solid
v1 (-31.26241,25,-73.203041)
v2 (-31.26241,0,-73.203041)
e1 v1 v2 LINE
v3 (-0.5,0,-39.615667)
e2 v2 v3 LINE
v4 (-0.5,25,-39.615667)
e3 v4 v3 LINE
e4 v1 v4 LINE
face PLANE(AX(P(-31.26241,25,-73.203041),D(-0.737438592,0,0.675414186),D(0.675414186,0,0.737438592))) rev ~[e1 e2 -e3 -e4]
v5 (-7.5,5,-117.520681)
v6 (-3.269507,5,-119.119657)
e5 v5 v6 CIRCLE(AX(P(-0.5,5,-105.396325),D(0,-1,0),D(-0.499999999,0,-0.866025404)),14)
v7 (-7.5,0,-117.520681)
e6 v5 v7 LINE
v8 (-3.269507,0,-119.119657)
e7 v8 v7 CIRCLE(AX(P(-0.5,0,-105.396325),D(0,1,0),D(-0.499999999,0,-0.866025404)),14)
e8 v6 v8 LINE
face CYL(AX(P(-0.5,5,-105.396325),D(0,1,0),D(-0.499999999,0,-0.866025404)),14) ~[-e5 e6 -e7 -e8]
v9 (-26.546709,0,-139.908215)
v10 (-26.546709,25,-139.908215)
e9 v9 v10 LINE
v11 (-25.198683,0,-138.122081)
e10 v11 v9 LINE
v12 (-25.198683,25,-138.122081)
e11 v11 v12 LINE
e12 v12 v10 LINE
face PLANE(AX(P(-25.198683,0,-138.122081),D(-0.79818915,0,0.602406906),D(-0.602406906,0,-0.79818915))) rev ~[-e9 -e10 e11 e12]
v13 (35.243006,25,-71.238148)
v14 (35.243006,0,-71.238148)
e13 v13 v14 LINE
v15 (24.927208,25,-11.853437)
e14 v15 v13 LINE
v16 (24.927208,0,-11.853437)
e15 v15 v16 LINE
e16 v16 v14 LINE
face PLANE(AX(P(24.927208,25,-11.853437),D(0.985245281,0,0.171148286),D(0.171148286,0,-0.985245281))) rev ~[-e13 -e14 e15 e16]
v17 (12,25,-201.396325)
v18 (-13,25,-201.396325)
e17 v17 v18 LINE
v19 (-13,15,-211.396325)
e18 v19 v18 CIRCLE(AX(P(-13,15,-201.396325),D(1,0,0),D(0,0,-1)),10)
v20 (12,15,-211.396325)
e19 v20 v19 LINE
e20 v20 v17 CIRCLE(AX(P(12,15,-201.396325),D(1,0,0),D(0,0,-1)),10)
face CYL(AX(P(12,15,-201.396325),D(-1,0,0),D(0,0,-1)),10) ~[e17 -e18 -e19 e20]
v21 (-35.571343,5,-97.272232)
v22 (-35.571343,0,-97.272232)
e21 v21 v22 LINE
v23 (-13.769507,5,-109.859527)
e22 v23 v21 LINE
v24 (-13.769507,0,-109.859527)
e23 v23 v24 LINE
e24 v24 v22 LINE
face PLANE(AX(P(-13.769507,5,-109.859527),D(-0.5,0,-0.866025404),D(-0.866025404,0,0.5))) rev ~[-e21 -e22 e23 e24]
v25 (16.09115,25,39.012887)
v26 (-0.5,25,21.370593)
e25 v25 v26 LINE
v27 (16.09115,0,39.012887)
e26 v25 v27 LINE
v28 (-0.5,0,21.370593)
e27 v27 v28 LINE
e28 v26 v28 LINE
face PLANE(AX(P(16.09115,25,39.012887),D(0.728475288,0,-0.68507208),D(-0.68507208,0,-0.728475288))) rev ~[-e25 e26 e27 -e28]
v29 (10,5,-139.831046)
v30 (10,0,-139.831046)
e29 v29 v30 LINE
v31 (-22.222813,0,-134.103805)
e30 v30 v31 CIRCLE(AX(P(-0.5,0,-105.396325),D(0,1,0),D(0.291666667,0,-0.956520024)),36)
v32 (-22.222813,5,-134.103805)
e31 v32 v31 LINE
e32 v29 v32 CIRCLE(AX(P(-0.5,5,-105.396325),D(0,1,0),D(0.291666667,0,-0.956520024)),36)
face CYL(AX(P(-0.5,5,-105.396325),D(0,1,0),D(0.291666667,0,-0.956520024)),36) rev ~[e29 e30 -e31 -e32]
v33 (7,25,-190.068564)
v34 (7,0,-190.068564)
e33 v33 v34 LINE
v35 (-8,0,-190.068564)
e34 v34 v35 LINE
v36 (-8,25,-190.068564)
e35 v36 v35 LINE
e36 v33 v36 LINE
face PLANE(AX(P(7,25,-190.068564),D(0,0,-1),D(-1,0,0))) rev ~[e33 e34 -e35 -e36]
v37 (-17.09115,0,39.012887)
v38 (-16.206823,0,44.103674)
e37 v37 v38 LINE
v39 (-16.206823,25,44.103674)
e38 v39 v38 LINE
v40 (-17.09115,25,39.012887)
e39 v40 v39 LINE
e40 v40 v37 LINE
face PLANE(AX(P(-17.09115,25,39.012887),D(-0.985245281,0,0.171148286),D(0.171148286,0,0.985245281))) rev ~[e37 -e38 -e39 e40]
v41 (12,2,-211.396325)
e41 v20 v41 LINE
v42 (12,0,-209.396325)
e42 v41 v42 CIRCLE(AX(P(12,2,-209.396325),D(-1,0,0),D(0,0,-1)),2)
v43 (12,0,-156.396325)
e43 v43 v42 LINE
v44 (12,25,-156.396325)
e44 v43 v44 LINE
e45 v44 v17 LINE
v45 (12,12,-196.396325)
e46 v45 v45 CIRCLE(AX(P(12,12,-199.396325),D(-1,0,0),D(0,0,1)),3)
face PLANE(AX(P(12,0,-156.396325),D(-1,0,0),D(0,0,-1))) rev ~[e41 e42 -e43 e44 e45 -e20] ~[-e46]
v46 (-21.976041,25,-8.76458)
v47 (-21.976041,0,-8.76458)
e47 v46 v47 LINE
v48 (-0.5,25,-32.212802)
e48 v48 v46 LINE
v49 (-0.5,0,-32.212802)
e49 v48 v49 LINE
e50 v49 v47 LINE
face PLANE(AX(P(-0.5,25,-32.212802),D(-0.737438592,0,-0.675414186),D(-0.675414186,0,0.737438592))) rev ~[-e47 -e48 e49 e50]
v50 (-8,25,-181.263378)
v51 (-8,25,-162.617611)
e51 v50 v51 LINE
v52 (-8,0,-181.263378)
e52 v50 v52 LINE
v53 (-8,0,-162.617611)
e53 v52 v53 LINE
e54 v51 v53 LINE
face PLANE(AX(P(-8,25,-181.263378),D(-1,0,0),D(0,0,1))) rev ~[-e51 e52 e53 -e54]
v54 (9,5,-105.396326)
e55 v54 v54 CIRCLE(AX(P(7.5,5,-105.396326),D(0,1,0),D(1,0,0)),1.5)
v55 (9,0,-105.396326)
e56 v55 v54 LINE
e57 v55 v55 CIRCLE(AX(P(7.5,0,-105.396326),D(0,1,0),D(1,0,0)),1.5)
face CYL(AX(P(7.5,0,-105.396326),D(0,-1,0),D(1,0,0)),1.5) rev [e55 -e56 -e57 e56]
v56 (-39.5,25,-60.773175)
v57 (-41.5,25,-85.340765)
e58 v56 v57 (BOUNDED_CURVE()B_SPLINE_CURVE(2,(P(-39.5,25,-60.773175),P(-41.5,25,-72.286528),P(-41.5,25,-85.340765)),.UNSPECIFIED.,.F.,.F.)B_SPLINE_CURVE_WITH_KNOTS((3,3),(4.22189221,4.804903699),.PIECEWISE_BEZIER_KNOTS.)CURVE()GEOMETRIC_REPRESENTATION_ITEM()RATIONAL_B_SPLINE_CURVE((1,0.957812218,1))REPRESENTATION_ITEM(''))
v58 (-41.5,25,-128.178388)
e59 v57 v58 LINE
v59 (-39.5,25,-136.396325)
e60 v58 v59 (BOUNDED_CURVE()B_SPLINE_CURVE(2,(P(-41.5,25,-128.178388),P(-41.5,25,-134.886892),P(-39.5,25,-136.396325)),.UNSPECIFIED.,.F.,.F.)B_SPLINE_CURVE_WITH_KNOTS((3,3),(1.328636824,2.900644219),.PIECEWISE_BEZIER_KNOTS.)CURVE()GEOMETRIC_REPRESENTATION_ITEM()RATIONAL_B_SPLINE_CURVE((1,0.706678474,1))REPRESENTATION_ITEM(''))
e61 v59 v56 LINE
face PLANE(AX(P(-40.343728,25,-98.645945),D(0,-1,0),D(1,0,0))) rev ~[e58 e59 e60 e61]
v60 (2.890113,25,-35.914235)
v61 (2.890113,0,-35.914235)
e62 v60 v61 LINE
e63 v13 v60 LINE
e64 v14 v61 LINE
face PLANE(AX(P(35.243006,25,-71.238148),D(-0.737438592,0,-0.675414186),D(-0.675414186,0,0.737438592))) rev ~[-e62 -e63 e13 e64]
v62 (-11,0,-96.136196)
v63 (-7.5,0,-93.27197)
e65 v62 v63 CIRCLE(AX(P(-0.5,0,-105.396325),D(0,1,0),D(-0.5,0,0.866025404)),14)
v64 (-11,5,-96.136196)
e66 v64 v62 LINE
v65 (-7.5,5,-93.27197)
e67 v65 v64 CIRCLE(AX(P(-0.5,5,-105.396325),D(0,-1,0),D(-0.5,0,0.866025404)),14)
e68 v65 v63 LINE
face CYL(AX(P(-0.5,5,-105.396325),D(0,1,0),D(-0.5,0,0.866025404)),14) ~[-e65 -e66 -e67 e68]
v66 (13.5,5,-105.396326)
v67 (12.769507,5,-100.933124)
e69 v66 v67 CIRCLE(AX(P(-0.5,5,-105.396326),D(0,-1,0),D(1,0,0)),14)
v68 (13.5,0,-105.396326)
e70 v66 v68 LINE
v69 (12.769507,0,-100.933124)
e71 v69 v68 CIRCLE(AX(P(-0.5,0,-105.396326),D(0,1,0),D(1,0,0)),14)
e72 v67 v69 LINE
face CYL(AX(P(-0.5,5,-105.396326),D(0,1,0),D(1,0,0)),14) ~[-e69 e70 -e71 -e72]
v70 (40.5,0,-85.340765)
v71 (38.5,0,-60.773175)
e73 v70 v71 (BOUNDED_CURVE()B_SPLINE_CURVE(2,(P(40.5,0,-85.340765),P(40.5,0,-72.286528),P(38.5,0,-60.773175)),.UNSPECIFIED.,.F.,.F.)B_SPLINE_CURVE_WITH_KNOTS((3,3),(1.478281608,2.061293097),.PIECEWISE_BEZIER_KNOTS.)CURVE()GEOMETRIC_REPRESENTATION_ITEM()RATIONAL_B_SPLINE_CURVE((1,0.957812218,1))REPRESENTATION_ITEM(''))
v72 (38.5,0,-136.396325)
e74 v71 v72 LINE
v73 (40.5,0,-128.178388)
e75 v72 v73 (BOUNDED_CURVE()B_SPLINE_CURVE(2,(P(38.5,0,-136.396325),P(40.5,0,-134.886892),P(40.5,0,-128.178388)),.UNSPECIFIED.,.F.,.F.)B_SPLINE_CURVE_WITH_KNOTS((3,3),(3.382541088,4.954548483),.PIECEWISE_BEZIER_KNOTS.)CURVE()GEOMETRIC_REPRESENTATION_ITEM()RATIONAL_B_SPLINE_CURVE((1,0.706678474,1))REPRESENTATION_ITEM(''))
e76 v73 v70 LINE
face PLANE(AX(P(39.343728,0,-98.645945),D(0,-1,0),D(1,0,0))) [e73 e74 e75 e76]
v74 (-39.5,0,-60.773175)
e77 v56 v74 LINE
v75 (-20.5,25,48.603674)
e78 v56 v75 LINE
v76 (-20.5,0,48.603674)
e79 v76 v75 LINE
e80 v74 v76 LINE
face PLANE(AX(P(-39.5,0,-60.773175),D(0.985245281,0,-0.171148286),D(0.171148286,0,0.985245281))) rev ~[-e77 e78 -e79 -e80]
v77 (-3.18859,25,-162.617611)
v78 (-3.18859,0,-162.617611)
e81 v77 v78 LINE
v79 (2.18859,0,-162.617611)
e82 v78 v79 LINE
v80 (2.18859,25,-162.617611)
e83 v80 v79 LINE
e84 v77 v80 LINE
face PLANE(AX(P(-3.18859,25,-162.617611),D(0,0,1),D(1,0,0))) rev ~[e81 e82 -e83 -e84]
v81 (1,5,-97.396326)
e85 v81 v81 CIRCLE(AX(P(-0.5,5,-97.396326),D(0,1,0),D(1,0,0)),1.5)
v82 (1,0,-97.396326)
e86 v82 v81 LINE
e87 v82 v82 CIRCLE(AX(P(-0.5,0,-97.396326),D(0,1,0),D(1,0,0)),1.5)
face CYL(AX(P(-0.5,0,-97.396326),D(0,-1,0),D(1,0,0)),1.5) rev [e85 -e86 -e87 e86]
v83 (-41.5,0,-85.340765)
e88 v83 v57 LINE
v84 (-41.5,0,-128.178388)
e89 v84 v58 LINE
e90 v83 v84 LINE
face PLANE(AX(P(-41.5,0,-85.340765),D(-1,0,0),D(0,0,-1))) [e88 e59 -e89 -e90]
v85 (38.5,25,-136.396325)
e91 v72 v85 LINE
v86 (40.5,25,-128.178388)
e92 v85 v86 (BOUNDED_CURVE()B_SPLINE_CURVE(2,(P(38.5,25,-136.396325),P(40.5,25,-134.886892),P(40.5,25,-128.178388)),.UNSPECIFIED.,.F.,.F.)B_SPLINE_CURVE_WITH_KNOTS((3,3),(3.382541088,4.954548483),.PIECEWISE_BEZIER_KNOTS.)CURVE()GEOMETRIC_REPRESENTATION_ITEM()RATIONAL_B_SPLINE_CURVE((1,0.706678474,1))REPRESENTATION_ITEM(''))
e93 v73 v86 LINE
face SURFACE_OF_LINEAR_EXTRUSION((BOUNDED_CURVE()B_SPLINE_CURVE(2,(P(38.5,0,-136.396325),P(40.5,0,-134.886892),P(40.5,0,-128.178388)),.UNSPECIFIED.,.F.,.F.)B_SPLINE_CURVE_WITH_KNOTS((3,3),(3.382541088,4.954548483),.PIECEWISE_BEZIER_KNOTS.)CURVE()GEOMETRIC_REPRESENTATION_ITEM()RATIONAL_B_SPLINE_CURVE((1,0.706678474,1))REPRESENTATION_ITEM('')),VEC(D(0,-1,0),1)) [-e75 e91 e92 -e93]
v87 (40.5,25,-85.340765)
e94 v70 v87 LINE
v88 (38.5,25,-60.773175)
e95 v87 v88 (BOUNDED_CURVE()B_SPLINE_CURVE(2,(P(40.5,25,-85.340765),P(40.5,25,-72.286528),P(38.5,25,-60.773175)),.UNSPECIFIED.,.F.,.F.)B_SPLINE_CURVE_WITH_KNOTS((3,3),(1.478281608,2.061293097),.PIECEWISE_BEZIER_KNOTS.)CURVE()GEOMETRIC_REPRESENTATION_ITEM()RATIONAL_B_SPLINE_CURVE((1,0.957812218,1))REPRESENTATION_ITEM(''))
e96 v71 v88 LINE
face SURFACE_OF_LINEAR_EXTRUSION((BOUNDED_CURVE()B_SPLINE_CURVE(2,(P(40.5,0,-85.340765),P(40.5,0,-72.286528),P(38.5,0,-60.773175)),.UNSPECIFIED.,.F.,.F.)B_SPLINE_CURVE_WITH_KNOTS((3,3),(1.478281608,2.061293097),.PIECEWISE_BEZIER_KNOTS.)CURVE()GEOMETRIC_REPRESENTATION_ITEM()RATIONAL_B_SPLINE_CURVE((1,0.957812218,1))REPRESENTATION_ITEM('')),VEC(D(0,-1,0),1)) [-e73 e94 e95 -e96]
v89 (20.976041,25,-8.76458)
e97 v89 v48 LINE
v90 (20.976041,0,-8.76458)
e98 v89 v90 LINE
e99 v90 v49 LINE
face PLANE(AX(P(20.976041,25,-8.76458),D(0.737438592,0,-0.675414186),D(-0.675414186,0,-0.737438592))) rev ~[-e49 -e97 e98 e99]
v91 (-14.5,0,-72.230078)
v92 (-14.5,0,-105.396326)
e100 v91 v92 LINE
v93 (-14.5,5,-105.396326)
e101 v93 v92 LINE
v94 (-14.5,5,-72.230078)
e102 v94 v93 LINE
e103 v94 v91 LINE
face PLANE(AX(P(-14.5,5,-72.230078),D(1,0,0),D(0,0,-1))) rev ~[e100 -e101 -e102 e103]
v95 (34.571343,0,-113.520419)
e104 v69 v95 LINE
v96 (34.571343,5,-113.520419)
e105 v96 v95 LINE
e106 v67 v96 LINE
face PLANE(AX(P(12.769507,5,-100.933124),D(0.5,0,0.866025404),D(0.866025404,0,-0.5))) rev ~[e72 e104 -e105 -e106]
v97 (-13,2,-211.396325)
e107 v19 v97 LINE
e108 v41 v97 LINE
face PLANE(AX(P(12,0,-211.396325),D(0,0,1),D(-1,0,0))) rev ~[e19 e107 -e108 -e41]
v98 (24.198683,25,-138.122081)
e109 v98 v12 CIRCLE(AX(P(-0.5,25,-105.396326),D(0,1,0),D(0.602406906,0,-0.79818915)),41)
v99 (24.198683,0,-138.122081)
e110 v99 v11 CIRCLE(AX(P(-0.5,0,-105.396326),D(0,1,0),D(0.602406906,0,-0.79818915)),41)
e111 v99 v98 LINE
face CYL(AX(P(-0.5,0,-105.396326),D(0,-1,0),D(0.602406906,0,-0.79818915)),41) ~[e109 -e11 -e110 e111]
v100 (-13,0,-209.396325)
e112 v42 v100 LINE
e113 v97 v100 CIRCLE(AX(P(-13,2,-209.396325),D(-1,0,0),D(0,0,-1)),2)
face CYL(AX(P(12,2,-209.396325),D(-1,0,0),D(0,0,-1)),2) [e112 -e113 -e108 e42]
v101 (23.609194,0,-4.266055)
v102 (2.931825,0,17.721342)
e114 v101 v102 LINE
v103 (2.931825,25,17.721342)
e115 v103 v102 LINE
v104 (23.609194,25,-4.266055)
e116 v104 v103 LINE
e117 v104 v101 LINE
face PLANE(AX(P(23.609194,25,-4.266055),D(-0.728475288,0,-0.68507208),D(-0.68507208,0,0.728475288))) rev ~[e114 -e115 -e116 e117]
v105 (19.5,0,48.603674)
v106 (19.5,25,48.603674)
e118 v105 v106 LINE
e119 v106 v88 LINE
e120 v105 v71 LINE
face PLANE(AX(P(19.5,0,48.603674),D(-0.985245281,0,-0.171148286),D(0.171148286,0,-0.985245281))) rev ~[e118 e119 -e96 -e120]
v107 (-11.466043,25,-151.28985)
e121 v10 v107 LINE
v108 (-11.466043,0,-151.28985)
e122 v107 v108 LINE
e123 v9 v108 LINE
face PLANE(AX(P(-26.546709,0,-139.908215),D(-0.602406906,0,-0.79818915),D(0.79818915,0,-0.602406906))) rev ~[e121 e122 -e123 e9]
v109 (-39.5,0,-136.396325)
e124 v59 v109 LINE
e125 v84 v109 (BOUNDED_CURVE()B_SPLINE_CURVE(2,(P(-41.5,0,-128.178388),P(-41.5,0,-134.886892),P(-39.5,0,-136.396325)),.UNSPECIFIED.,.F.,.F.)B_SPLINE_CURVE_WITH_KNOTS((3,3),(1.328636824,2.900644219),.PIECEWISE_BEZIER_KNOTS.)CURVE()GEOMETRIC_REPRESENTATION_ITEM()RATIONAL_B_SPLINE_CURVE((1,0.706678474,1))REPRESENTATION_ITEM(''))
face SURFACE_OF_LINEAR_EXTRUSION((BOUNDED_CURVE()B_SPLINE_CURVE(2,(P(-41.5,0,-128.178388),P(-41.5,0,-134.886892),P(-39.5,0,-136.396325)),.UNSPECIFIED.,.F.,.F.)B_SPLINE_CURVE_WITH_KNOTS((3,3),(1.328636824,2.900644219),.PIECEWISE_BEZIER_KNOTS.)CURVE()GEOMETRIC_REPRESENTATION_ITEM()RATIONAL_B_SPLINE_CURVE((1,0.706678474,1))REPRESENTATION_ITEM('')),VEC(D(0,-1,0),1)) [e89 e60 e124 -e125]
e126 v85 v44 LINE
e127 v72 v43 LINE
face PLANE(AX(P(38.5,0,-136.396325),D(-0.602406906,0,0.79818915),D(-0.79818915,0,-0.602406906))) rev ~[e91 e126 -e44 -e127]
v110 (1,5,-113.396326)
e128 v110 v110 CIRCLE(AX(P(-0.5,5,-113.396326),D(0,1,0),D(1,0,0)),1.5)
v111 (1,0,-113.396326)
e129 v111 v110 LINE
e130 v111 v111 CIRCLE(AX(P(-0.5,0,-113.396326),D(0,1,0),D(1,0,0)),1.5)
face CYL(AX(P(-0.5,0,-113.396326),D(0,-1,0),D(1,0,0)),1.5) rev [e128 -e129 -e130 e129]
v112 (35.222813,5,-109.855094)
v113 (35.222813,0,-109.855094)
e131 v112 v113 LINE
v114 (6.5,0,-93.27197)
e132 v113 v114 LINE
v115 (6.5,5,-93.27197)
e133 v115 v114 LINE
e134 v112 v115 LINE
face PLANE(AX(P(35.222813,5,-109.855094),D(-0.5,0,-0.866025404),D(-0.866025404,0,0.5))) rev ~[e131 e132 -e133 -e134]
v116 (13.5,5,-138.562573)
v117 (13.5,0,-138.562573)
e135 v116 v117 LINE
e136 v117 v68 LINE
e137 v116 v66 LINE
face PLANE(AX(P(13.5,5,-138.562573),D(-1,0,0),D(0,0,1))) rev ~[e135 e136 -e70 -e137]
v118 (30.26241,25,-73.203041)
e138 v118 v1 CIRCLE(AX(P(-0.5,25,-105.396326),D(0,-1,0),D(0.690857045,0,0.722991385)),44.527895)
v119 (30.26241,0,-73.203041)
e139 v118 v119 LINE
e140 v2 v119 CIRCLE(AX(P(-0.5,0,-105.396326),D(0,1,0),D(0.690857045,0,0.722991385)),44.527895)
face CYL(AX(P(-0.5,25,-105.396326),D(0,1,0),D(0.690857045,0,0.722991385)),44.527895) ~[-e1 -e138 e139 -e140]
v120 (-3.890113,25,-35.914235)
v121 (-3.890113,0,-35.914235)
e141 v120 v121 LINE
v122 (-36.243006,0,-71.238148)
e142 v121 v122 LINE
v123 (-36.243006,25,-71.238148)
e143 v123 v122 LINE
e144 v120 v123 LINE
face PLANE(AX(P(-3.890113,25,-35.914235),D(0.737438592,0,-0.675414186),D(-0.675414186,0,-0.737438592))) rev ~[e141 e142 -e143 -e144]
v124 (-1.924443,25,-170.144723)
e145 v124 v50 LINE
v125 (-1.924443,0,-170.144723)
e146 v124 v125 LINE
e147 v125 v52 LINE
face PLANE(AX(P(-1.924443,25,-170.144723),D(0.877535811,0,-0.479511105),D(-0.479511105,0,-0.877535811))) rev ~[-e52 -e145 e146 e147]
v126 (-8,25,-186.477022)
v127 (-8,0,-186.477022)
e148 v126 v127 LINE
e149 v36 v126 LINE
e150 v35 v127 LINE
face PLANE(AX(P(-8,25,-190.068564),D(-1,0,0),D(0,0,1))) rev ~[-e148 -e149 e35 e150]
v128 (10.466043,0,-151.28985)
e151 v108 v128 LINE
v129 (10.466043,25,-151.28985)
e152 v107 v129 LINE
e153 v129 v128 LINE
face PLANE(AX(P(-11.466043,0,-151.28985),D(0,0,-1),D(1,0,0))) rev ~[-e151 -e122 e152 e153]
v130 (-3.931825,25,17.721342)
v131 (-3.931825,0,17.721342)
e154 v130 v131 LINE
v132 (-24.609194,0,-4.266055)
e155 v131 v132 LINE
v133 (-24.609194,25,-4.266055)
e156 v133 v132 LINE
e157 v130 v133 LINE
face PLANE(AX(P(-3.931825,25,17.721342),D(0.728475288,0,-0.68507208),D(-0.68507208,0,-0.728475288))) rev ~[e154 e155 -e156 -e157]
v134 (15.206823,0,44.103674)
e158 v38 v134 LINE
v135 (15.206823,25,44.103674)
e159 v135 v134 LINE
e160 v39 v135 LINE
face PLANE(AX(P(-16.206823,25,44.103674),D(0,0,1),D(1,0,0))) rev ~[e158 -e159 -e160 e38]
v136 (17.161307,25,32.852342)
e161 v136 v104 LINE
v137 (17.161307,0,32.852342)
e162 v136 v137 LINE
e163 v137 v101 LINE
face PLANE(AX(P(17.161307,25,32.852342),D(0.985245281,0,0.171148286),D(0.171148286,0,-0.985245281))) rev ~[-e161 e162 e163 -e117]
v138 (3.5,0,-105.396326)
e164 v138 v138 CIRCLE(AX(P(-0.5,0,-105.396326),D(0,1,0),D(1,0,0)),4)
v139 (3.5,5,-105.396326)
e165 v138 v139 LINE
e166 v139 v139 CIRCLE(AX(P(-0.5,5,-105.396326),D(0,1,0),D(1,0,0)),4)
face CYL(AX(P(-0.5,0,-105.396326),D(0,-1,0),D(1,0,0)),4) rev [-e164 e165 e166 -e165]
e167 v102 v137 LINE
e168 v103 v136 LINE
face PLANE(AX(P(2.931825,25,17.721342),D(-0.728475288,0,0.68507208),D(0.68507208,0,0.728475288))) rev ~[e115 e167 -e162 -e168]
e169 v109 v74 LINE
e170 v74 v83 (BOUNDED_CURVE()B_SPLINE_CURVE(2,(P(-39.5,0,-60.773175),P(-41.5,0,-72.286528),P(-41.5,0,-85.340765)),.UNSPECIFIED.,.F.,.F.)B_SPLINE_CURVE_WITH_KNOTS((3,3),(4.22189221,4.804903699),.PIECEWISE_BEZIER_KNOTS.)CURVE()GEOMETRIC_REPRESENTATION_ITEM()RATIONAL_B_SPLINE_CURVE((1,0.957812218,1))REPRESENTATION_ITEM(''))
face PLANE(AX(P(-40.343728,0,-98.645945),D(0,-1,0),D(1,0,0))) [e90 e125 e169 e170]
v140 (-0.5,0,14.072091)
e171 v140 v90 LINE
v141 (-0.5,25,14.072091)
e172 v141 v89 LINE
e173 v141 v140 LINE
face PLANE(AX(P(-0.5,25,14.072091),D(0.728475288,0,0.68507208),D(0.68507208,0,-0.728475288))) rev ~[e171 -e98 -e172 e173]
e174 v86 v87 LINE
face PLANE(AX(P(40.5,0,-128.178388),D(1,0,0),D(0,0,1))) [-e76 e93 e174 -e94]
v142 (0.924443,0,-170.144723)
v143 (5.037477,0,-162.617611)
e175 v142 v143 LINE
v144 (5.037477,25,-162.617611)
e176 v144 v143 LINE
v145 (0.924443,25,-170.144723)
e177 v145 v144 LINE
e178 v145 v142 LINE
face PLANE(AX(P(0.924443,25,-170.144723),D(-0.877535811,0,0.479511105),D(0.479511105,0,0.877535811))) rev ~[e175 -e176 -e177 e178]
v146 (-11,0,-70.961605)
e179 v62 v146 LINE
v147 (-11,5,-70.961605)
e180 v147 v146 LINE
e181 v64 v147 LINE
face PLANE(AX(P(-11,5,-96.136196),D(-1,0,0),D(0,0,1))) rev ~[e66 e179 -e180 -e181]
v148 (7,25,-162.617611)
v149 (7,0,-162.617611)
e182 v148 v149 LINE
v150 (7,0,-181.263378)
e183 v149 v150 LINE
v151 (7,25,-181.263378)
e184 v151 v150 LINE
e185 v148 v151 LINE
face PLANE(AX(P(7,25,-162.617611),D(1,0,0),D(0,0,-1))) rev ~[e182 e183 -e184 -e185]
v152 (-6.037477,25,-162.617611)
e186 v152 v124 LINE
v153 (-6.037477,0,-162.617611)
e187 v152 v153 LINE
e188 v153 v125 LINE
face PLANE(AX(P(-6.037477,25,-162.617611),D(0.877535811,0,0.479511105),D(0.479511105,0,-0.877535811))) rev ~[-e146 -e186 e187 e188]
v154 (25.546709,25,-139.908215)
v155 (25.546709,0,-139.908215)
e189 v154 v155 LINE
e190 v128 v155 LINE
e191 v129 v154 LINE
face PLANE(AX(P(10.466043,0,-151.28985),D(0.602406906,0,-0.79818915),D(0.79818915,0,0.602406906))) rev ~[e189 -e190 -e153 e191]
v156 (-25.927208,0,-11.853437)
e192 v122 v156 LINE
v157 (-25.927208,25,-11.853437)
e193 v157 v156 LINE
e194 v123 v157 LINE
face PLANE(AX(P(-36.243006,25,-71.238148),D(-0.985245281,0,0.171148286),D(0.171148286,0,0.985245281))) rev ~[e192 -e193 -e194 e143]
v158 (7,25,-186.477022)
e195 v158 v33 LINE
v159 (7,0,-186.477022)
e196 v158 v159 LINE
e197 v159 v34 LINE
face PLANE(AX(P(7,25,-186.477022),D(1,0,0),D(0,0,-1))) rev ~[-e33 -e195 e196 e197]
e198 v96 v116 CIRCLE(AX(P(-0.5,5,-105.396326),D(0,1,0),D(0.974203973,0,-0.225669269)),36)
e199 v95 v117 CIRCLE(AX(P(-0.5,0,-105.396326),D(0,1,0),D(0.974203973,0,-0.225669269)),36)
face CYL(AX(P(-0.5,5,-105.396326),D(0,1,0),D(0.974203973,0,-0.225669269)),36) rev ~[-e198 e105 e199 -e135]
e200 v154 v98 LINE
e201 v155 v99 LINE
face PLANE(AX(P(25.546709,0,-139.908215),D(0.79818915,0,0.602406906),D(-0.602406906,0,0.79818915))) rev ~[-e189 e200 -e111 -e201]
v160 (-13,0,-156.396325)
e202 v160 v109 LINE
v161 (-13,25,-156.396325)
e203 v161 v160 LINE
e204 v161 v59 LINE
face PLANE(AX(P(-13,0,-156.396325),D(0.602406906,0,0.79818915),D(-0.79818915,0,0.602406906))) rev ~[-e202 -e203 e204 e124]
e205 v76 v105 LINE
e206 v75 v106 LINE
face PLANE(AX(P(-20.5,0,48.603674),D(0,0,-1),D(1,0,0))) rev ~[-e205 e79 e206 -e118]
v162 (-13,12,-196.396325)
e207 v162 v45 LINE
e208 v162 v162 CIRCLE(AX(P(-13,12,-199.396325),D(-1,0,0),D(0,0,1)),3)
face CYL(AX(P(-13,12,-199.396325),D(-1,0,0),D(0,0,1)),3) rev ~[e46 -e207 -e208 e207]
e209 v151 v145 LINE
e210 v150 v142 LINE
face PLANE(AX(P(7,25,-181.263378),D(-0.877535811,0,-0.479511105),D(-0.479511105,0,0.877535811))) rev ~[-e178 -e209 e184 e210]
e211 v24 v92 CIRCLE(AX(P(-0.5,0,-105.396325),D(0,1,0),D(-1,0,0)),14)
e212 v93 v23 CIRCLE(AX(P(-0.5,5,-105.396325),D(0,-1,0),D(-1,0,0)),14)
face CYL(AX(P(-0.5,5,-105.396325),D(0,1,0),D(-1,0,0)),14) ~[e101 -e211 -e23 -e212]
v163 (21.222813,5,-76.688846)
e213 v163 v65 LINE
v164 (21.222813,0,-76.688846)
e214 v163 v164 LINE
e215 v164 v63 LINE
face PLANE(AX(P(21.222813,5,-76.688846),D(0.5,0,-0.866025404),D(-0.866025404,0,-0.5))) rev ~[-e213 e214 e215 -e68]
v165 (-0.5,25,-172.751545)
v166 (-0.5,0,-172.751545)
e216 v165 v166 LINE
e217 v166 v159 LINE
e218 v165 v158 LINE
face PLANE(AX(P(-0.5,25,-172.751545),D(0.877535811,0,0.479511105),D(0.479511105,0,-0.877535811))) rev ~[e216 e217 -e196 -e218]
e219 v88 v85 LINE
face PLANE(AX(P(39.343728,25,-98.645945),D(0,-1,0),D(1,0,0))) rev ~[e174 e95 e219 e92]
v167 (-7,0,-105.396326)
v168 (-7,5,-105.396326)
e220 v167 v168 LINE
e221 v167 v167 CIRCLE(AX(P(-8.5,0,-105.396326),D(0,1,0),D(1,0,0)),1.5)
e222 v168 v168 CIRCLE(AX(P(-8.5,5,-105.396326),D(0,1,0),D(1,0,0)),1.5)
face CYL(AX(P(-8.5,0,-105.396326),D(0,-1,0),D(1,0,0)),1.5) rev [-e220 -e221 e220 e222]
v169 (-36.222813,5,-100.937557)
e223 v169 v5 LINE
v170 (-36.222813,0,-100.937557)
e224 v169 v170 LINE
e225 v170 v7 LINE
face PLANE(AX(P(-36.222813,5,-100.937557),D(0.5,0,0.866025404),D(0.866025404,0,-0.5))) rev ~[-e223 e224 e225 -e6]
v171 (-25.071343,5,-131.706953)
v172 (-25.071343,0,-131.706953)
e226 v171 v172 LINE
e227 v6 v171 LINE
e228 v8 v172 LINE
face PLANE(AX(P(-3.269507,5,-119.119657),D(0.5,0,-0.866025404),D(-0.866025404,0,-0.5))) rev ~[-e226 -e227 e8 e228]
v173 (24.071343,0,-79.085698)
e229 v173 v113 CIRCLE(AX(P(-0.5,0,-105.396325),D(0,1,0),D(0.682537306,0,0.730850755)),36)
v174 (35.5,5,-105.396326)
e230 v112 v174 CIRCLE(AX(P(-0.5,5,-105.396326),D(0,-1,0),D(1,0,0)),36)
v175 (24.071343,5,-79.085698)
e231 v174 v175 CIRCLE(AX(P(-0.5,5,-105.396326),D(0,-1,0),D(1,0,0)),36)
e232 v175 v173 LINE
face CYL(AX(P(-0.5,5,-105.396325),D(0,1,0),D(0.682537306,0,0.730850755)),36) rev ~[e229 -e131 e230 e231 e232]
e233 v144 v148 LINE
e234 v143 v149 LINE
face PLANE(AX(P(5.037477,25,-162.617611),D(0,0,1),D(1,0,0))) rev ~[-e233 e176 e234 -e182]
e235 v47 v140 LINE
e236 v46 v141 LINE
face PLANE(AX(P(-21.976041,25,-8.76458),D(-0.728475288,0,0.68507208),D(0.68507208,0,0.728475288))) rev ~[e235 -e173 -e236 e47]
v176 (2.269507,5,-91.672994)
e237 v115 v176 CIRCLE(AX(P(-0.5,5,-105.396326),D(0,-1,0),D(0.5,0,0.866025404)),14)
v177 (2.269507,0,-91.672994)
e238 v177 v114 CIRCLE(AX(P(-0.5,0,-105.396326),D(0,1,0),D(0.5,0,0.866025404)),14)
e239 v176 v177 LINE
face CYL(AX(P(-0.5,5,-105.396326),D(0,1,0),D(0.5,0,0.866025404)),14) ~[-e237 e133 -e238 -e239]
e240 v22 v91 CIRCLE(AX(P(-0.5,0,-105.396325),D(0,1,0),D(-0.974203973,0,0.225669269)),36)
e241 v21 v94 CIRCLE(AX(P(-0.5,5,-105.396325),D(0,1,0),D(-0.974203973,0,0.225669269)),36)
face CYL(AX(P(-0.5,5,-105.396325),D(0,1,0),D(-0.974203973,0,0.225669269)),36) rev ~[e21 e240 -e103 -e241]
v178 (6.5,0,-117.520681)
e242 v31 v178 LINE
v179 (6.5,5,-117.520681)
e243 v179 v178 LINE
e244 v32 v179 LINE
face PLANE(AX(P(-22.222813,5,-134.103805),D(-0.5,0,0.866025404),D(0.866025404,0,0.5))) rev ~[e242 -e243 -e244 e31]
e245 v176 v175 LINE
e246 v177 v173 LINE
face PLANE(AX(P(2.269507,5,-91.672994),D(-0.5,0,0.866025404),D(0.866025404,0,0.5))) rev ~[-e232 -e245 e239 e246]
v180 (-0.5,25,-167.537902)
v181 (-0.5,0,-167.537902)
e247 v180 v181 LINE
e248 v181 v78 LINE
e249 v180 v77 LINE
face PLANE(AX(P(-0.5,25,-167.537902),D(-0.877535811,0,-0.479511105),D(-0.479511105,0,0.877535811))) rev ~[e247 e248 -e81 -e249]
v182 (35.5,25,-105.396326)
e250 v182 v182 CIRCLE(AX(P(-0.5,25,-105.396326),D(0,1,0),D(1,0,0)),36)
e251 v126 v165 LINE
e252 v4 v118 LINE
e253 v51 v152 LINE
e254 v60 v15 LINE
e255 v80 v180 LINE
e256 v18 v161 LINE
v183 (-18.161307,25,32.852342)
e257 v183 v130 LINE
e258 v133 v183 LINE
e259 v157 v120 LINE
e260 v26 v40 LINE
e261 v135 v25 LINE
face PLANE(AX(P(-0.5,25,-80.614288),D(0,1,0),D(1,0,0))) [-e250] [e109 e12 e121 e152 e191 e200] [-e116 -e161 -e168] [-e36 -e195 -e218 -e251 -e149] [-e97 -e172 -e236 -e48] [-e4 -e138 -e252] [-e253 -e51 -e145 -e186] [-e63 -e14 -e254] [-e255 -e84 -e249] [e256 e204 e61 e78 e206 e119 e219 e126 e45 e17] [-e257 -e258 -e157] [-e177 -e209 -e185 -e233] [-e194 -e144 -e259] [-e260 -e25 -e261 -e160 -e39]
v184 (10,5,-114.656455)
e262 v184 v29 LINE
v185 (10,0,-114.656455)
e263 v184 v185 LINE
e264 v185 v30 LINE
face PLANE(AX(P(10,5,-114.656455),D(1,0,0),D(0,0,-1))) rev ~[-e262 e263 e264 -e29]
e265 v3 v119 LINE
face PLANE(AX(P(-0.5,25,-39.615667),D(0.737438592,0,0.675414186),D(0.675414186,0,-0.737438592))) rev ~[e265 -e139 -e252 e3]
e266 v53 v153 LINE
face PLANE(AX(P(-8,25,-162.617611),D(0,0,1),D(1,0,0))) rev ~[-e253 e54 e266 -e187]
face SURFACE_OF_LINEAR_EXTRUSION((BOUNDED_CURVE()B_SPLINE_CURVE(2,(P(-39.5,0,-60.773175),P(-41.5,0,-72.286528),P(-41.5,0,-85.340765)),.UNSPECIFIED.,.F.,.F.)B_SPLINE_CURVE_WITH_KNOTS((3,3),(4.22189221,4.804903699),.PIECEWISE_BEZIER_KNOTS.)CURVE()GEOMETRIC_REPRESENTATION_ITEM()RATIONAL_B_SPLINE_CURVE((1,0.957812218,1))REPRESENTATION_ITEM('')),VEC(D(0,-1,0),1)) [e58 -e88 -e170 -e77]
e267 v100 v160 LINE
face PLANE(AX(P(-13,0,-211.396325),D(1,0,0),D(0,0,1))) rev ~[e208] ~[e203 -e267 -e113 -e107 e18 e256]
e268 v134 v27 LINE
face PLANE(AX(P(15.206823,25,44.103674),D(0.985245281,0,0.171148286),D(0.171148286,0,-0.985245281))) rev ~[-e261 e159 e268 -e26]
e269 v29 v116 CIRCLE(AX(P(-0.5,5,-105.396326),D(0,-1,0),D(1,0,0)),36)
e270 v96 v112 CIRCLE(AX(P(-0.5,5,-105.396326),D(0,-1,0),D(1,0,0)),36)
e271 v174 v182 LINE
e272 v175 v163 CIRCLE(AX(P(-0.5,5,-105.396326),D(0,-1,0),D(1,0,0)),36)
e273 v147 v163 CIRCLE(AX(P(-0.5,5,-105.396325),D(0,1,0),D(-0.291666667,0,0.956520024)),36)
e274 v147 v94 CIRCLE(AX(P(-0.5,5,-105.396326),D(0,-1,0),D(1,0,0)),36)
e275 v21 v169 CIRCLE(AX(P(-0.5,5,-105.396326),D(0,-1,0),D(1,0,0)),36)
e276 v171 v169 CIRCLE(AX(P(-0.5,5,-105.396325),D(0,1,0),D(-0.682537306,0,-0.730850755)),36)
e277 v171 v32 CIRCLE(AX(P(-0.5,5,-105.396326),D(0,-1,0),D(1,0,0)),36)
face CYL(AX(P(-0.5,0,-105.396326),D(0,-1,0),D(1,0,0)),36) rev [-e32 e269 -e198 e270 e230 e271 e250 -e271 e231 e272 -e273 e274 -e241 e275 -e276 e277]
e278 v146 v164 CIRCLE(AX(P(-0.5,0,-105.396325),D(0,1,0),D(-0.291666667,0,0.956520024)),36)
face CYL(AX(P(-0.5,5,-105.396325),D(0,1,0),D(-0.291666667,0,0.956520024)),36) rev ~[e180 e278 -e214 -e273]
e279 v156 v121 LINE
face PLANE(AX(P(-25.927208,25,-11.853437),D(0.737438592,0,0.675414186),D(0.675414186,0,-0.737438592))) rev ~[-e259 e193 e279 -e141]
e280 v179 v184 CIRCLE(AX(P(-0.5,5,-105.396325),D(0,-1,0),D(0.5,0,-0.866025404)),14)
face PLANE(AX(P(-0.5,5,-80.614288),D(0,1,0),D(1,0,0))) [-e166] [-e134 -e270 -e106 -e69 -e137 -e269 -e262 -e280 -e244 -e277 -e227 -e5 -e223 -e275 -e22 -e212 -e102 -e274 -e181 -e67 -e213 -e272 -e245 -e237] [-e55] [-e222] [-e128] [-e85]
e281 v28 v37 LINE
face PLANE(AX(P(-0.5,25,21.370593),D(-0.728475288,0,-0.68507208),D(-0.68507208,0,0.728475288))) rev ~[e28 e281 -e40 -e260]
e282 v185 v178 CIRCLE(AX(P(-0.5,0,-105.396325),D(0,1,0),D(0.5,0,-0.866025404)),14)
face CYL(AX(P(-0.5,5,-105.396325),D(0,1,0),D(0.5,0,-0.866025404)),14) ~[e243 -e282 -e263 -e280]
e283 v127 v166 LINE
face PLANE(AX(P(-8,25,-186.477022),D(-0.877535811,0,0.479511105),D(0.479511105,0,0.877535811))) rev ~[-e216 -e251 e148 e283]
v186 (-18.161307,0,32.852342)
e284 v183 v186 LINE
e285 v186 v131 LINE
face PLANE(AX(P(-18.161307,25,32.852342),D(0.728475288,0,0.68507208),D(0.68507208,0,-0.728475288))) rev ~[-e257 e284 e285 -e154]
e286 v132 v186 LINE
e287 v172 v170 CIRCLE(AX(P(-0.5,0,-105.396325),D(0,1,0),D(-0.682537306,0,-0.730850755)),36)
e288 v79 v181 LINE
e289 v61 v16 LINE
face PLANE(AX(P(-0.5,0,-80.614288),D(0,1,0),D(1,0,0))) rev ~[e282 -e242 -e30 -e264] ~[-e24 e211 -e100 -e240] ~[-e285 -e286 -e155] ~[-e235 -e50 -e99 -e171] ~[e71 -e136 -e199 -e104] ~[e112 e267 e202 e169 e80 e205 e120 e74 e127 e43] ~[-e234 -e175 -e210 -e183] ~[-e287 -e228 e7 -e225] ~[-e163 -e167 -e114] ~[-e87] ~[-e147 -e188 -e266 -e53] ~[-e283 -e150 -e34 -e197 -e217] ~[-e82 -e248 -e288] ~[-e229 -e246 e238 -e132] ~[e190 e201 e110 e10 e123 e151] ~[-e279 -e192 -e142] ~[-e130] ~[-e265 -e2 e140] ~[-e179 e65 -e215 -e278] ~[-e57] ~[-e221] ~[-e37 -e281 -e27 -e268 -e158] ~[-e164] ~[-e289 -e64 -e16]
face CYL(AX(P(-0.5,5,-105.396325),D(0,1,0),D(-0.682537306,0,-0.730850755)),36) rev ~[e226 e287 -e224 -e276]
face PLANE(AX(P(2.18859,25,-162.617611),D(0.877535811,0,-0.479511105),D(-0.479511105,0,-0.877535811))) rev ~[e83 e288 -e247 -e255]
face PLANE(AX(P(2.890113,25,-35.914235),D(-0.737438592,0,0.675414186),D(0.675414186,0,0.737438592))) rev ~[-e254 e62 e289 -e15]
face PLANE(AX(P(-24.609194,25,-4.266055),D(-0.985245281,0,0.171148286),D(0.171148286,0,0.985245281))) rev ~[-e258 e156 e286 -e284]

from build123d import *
from build123d.topology import SkipClean

# Parameters (mm, degrees)
SZKIC1_R                    = 1.5
SZKIC1_R_2                  = 4
DODANIE_WYCI_GNI_CIE1_DEPTH = 5
SZKIC1_3_R                  = 36
DODANIE_WYCI_GNI_CIE2_DEPTH = 25
ZAOKR_GLENIE1_R             = 10
ZAOKR_GLENIE2_R             = 2
SZKIC3_R                    = 3
WYTNIJ_WYCI_GNI_CIE2_DEPTH  = 220.010630871
WYTNIJ_WYCI_GNI_CIE3_DEPTH  = 216.983000337
WYTNIJ_WYCI_GNI_CIE4_DEPTH  = 217.503248093
WYTNIJ_WYCI_GNI_CIE5_DEPTH  = 217.503248093
DODANIE_WYCI_GNI_CIE3_DEPTH = 25


with BuildPart() as part:
    # Szkic1 → Dodanie-wyci_gni_cie1 (new body)
    with BuildSketch(Plane(origin=(0, 0, 0), x_dir=(1, 0, 0), z_dir=(0, 1, 0))):
        Polygon((-39.5, 60.773175281), (-20.5, -48.6036745), (19.5, -48.6036745), (38.5, 60.773175281), (38.5, 136.3963255), (12, 156.3963255), (12, 211.3963255), (-13, 211.3963255), (-13, 156.3963255), (-39.5, 136.3963255), align=None)
        with BuildLine():
            ThreePointArc((24.198683142, 138.122080663), (-0.5, 146.3963255), (-25.198683142, 138.122080663))
            Line((-25.198683142, 138.122080663), (-26.54670895, 139.908214858))
            Line((-26.54670895, 139.908214858), (-11.466042799, 151.289849688))
            Line((-11.466042799, 151.289849688), (10.466042799, 151.289849688))
            Line((10.466042799, 151.289849688), (25.54670895, 139.908214858))
            Line((25.54670895, 139.908214858), (24.198683142, 138.122080663))
        make_face(mode=Mode.SUBTRACT)
        with Locations((7.5, 105.3963255)):
            Circle(SZKIC1_R, mode=Mode.SUBTRACT)
        with Locations((-0.5, 97.3963255)):
            Circle(SZKIC1_R, mode=Mode.SUBTRACT)
        with Locations((-8.5, 105.3963255)):
            Circle(SZKIC1_R, mode=Mode.SUBTRACT)
        with Locations((-0.5, 105.3963255)):
            Circle(SZKIC1_R_2, mode=Mode.SUBTRACT)
        with Locations((-0.5, 113.3963255)):
            Circle(SZKIC1_R, mode=Mode.SUBTRACT)
    extrude(amount=DODANIE_WYCI_GNI_CIE1_DEPTH)

    # Szkic1_3 → Dodanie-wyci_gni_cie2 (add)
    with BuildSketch(Plane(origin=(0, 0, 0), x_dir=(1, 0, 0), z_dir=(0, 1, 0))):
        Polygon((-39.5, 60.773175281), (-20.5, -48.6036745), (19.5, -48.6036745), (38.5, 60.773175281), (38.5, 136.3963255), (12, 156.3963255), (12, 211.3963255), (-13, 211.3963255), (-13, 156.3963255), (-39.5, 136.3963255), align=None)
        with Locations((-0.5, 105.3963255)):
            Circle(SZKIC1_3_R, mode=Mode.SUBTRACT)
        with BuildLine():
            ThreePointArc((24.198683142, 138.122080663), (-0.5, 146.3963255), (-25.198683142, 138.122080663))
            Line((-25.198683142, 138.122080663), (-26.54670895, 139.908214858))
            Line((-26.54670895, 139.908214858), (-11.466042799, 151.289849688))
            Line((-11.466042799, 151.289849688), (10.466042799, 151.289849688))
            Line((10.466042799, 151.289849688), (25.54670895, 139.908214858))
            Line((25.54670895, 139.908214858), (24.198683142, 138.122080663))
        make_face(mode=Mode.SUBTRACT)
    extrude(amount=DODANIE_WYCI_GNI_CIE2_DEPTH)

    # Zaokr_glenie1
    zaokr_glenie1_edges = [part.edges().sort_by_distance(p)[0] for p in [
        (-0.5, 25, -211.3963255),
    ]]
    fillet(zaokr_glenie1_edges, radius=ZAOKR_GLENIE1_R)

    # Zaokr_glenie2
    zaokr_glenie2_edges = [part.edges().sort_by_distance(p)[0] for p in [
        (-0.5, 0, -211.3963255),
    ]]
    fillet(zaokr_glenie2_edges, radius=ZAOKR_GLENIE2_R)

    # Szkic3 → Wytnij-wyci_gni_cie2 (cut, through all)
    with BuildSketch(Plane.ZY.offset(13)):
        with Locations((-199.3963255, 12)):
            Circle(SZKIC3_R)
    extrude(amount=-WYTNIJ_WYCI_GNI_CIE2_DEPTH, mode=Mode.SUBTRACT)

    # Szkic4 → Wytnij-wyci_gni_cie3 (cut, through all)
    with SkipClean():  # the faces are left unmerged after this step: merging them gives an invalid solid
        with BuildSketch(Plane(origin=(0, 5, 0), x_dir=(1, 0, 0), z_dir=(0, 1, 0))):
            with BuildLine():
                Line((13.5, 138.562573403), (13.5, 105.3963255))
                ThreePointArc((13.5, 105.3963255), (13.316169956, 103.135032123), (12.769507466, 100.933123554))
                Line((12.769507466, 100.933123554), (34.571343028, 113.520419185))
                ThreePointArc((34.571343028, 113.520419185), (27.045898944, 128.57440677), (13.5, 138.562573403))
            make_face()
            with BuildLine():
                ThreePointArc((6.5, 117.520681153), (8.366422488, 116.230832976), (10, 114.656455088))
                Line((10, 114.656455088), (10, 139.831046349))
                ThreePointArc((10, 139.831046349), (-6.799857719, 140.84081439), (-22.222813233, 134.103805104))
                Line((-22.222813233, 134.103805104), (6.5, 117.520681153))
            make_face()
            with BuildLine():
                Line((35.222813233, 109.855093798), (6.5, 93.271969847))
                ThreePointArc((6.5, 93.271969847), (4.449747468, 92.300524646), (2.269507466, 91.672993965))
                Line((2.269507466, 91.672993965), (24.071343028, 79.085698335))
                ThreePointArc((24.071343028, 79.085698335), (33.345756663, 93.129917879), (35.222813233, 109.855093798))
            make_face()
            with BuildLine():
                ThreePointArc((-7.5, 117.520681153), (-5.449747468, 118.492126353), (-3.269507466, 119.119657034))
                Line((-3.269507466, 119.119657034), (-25.071343028, 131.706952664))
                ThreePointArc((-25.071343028, 131.706952664), (-34.345756663, 117.66273312), (-36.222813233, 100.937557201))
                Line((-36.222813233, 100.937557201), (-7.5, 117.520681153))
            make_face()
            with BuildLine():
                Line((21.222813233, 76.688845895), (-7.5, 93.271969847))
                ThreePointArc((-7.5, 93.271969847), (-9.366422488, 94.561818023), (-11, 96.136195911))
                Line((-11, 96.136195911), (-11, 70.96160465))
                ThreePointArc((-11, 70.96160465), (5.799857719, 69.951836609), (21.222813233, 76.688845895))
            make_face()
            with BuildLine():
                ThreePointArc((-14.5, 105.3963255), (-14.316169956, 107.657618877), (-13.769507466, 109.859527445))
                Line((-13.769507466, 109.859527445), (-35.571343028, 97.272231814))
                ThreePointArc((-35.571343028, 97.272231814), (-28.045898944, 82.218244229), (-14.5, 72.230077596))
                Line((-14.5, 72.230077596), (-14.5, 105.3963255))
            make_face()
        extrude(amount=-WYTNIJ_WYCI_GNI_CIE3_DEPTH, mode=Mode.SUBTRACT)

    # Szkic5 → Wytnij-wyci_gni_cie4 (cut, through all)
    with SkipClean():  # the faces are left unmerged after this step: merging them gives an invalid solid
        with BuildSketch(Plane(origin=(0, 25, 0), x_dir=(1, 0, 0), z_dir=(0, 1, 0))):
            Polygon((-0.5, 167.537901521), (-3.188590085, 162.617610716), (2.188590085, 162.617610716), align=None)
            Polygon((-8, 162.617610716), (-6.037476669, 162.617610716), (-1.924443292, 170.144723317), (-8, 181.2633784), align=None)
            Polygon((0.924443292, 170.144723317), (5.037476669, 162.617610716), (7, 162.617610716), (7, 181.2633784), align=None)
            Polygon((-8, 186.477021992), (-0.5, 172.751545113), (7, 186.477021992), (7, 190.068564472), (-8, 190.068564472), align=None)
        extrude(amount=-WYTNIJ_WYCI_GNI_CIE4_DEPTH, mode=Mode.SUBTRACT)

    # Szkic6 → Wytnij-wyci_gni_cie5 (cut, through all)
    with SkipClean():  # the faces are left unmerged after this step: merging them gives an invalid solid
        with BuildSketch(Plane(origin=(0, 25, 0), x_dir=(1, 0, 0), z_dir=(0, 1, 0))):
            Polygon((2.890112786, 35.914234697), (24.927207854, 11.853436604), (35.243006097, 71.238147911), align=None)
            Polygon((2.931825406, -17.721341562), (17.161306881, -32.852341508), (23.609193637, 4.266055389), align=None)
            Polygon((-36.243006097, 71.238147911), (-25.927207854, 11.853436604), (-3.890112786, 35.914234697), align=None)
            Polygon((-24.609193637, 4.266055389), (-18.161306881, -32.852341508), (-3.931825406, -17.721341562), align=None)
            Polygon((-0.5, -21.370592599), (-17.091150305, -39.01288651), (-16.206822662, -44.1036745), (15.206822662, -44.1036745), (16.091150305, -39.01288651), align=None)
            Polygon((20.976041499, 8.764580183), (-0.5, 32.212802226), (-21.976041499, 8.764580183), (-0.5, -14.072090524), align=None)
            with BuildLine():
                Line((-31.262410293, 73.203040667), (-0.5, 39.615667168))
                Line((-0.5, 39.615667168), (30.262410293, 73.203040667))
                ThreePointArc((30.262410293, 73.203040667), (-0.5, 60.868430026), (-31.262410293, 73.203040667))
            make_face()
        extrude(amount=-WYTNIJ_WYCI_GNI_CIE5_DEPTH, mode=Mode.SUBTRACT)

    # Szkic7 → Dodanie-wyci_gni_cie3 (add)
    with SkipClean():  # the faces are left unmerged after this step: merging them gives an invalid solid
        with BuildSketch(Plane.XZ):
            with BuildLine():
                Line((40.5, -128.178388263), (40.5, -85.340764579))
                add(Edge.make_bspline(
                    [(40.5, -85.340764579), (40.5, -72.286527889), (38.5, -60.773175281)],
                    knots=[1.478281608, 1.478281608, 1.478281608, 2.061293097, 2.061293097, 2.061293097], degree=2, weights=[1, 0.957812218, 1]))
                Line((38.5, -60.773175281), (38.5, -136.3963255))
                add(Edge.make_bspline(
                    [(38.5, -136.3963255), (40.5, -134.886891537), (40.5, -128.178388263)],
                    knots=[3.382541088, 3.382541088, 3.382541088, 4.954548483, 4.954548483, 4.954548483], degree=2, weights=[1, 0.706678474, 1]))
            make_face()
            with BuildLine():
                Line((-39.5, -136.3963255), (-39.5, -60.773175281))
                add(Edge.make_bspline(
                    [(-39.5, -60.773175281), (-41.5, -72.286527889), (-41.5, -85.340764579)],
                    knots=[4.22189221, 4.22189221, 4.22189221, 4.804903699, 4.804903699, 4.804903699], degree=2, weights=[1, 0.957812218, 1]))
                Line((-41.5, -85.340764579), (-41.5, -128.178388263))
                add(Edge.make_bspline(
                    [(-41.5, -128.178388263), (-41.5, -134.886891537), (-39.5, -136.3963255)],
                    knots=[1.328636824, 1.328636824, 1.328636824, 2.900644219, 2.900644219, 2.900644219], degree=2, weights=[1, 0.706678474, 1]))
            make_face()
        extrude(amount=-DODANIE_WYCI_GNI_CIE3_DEPTH)


solid = part.part
